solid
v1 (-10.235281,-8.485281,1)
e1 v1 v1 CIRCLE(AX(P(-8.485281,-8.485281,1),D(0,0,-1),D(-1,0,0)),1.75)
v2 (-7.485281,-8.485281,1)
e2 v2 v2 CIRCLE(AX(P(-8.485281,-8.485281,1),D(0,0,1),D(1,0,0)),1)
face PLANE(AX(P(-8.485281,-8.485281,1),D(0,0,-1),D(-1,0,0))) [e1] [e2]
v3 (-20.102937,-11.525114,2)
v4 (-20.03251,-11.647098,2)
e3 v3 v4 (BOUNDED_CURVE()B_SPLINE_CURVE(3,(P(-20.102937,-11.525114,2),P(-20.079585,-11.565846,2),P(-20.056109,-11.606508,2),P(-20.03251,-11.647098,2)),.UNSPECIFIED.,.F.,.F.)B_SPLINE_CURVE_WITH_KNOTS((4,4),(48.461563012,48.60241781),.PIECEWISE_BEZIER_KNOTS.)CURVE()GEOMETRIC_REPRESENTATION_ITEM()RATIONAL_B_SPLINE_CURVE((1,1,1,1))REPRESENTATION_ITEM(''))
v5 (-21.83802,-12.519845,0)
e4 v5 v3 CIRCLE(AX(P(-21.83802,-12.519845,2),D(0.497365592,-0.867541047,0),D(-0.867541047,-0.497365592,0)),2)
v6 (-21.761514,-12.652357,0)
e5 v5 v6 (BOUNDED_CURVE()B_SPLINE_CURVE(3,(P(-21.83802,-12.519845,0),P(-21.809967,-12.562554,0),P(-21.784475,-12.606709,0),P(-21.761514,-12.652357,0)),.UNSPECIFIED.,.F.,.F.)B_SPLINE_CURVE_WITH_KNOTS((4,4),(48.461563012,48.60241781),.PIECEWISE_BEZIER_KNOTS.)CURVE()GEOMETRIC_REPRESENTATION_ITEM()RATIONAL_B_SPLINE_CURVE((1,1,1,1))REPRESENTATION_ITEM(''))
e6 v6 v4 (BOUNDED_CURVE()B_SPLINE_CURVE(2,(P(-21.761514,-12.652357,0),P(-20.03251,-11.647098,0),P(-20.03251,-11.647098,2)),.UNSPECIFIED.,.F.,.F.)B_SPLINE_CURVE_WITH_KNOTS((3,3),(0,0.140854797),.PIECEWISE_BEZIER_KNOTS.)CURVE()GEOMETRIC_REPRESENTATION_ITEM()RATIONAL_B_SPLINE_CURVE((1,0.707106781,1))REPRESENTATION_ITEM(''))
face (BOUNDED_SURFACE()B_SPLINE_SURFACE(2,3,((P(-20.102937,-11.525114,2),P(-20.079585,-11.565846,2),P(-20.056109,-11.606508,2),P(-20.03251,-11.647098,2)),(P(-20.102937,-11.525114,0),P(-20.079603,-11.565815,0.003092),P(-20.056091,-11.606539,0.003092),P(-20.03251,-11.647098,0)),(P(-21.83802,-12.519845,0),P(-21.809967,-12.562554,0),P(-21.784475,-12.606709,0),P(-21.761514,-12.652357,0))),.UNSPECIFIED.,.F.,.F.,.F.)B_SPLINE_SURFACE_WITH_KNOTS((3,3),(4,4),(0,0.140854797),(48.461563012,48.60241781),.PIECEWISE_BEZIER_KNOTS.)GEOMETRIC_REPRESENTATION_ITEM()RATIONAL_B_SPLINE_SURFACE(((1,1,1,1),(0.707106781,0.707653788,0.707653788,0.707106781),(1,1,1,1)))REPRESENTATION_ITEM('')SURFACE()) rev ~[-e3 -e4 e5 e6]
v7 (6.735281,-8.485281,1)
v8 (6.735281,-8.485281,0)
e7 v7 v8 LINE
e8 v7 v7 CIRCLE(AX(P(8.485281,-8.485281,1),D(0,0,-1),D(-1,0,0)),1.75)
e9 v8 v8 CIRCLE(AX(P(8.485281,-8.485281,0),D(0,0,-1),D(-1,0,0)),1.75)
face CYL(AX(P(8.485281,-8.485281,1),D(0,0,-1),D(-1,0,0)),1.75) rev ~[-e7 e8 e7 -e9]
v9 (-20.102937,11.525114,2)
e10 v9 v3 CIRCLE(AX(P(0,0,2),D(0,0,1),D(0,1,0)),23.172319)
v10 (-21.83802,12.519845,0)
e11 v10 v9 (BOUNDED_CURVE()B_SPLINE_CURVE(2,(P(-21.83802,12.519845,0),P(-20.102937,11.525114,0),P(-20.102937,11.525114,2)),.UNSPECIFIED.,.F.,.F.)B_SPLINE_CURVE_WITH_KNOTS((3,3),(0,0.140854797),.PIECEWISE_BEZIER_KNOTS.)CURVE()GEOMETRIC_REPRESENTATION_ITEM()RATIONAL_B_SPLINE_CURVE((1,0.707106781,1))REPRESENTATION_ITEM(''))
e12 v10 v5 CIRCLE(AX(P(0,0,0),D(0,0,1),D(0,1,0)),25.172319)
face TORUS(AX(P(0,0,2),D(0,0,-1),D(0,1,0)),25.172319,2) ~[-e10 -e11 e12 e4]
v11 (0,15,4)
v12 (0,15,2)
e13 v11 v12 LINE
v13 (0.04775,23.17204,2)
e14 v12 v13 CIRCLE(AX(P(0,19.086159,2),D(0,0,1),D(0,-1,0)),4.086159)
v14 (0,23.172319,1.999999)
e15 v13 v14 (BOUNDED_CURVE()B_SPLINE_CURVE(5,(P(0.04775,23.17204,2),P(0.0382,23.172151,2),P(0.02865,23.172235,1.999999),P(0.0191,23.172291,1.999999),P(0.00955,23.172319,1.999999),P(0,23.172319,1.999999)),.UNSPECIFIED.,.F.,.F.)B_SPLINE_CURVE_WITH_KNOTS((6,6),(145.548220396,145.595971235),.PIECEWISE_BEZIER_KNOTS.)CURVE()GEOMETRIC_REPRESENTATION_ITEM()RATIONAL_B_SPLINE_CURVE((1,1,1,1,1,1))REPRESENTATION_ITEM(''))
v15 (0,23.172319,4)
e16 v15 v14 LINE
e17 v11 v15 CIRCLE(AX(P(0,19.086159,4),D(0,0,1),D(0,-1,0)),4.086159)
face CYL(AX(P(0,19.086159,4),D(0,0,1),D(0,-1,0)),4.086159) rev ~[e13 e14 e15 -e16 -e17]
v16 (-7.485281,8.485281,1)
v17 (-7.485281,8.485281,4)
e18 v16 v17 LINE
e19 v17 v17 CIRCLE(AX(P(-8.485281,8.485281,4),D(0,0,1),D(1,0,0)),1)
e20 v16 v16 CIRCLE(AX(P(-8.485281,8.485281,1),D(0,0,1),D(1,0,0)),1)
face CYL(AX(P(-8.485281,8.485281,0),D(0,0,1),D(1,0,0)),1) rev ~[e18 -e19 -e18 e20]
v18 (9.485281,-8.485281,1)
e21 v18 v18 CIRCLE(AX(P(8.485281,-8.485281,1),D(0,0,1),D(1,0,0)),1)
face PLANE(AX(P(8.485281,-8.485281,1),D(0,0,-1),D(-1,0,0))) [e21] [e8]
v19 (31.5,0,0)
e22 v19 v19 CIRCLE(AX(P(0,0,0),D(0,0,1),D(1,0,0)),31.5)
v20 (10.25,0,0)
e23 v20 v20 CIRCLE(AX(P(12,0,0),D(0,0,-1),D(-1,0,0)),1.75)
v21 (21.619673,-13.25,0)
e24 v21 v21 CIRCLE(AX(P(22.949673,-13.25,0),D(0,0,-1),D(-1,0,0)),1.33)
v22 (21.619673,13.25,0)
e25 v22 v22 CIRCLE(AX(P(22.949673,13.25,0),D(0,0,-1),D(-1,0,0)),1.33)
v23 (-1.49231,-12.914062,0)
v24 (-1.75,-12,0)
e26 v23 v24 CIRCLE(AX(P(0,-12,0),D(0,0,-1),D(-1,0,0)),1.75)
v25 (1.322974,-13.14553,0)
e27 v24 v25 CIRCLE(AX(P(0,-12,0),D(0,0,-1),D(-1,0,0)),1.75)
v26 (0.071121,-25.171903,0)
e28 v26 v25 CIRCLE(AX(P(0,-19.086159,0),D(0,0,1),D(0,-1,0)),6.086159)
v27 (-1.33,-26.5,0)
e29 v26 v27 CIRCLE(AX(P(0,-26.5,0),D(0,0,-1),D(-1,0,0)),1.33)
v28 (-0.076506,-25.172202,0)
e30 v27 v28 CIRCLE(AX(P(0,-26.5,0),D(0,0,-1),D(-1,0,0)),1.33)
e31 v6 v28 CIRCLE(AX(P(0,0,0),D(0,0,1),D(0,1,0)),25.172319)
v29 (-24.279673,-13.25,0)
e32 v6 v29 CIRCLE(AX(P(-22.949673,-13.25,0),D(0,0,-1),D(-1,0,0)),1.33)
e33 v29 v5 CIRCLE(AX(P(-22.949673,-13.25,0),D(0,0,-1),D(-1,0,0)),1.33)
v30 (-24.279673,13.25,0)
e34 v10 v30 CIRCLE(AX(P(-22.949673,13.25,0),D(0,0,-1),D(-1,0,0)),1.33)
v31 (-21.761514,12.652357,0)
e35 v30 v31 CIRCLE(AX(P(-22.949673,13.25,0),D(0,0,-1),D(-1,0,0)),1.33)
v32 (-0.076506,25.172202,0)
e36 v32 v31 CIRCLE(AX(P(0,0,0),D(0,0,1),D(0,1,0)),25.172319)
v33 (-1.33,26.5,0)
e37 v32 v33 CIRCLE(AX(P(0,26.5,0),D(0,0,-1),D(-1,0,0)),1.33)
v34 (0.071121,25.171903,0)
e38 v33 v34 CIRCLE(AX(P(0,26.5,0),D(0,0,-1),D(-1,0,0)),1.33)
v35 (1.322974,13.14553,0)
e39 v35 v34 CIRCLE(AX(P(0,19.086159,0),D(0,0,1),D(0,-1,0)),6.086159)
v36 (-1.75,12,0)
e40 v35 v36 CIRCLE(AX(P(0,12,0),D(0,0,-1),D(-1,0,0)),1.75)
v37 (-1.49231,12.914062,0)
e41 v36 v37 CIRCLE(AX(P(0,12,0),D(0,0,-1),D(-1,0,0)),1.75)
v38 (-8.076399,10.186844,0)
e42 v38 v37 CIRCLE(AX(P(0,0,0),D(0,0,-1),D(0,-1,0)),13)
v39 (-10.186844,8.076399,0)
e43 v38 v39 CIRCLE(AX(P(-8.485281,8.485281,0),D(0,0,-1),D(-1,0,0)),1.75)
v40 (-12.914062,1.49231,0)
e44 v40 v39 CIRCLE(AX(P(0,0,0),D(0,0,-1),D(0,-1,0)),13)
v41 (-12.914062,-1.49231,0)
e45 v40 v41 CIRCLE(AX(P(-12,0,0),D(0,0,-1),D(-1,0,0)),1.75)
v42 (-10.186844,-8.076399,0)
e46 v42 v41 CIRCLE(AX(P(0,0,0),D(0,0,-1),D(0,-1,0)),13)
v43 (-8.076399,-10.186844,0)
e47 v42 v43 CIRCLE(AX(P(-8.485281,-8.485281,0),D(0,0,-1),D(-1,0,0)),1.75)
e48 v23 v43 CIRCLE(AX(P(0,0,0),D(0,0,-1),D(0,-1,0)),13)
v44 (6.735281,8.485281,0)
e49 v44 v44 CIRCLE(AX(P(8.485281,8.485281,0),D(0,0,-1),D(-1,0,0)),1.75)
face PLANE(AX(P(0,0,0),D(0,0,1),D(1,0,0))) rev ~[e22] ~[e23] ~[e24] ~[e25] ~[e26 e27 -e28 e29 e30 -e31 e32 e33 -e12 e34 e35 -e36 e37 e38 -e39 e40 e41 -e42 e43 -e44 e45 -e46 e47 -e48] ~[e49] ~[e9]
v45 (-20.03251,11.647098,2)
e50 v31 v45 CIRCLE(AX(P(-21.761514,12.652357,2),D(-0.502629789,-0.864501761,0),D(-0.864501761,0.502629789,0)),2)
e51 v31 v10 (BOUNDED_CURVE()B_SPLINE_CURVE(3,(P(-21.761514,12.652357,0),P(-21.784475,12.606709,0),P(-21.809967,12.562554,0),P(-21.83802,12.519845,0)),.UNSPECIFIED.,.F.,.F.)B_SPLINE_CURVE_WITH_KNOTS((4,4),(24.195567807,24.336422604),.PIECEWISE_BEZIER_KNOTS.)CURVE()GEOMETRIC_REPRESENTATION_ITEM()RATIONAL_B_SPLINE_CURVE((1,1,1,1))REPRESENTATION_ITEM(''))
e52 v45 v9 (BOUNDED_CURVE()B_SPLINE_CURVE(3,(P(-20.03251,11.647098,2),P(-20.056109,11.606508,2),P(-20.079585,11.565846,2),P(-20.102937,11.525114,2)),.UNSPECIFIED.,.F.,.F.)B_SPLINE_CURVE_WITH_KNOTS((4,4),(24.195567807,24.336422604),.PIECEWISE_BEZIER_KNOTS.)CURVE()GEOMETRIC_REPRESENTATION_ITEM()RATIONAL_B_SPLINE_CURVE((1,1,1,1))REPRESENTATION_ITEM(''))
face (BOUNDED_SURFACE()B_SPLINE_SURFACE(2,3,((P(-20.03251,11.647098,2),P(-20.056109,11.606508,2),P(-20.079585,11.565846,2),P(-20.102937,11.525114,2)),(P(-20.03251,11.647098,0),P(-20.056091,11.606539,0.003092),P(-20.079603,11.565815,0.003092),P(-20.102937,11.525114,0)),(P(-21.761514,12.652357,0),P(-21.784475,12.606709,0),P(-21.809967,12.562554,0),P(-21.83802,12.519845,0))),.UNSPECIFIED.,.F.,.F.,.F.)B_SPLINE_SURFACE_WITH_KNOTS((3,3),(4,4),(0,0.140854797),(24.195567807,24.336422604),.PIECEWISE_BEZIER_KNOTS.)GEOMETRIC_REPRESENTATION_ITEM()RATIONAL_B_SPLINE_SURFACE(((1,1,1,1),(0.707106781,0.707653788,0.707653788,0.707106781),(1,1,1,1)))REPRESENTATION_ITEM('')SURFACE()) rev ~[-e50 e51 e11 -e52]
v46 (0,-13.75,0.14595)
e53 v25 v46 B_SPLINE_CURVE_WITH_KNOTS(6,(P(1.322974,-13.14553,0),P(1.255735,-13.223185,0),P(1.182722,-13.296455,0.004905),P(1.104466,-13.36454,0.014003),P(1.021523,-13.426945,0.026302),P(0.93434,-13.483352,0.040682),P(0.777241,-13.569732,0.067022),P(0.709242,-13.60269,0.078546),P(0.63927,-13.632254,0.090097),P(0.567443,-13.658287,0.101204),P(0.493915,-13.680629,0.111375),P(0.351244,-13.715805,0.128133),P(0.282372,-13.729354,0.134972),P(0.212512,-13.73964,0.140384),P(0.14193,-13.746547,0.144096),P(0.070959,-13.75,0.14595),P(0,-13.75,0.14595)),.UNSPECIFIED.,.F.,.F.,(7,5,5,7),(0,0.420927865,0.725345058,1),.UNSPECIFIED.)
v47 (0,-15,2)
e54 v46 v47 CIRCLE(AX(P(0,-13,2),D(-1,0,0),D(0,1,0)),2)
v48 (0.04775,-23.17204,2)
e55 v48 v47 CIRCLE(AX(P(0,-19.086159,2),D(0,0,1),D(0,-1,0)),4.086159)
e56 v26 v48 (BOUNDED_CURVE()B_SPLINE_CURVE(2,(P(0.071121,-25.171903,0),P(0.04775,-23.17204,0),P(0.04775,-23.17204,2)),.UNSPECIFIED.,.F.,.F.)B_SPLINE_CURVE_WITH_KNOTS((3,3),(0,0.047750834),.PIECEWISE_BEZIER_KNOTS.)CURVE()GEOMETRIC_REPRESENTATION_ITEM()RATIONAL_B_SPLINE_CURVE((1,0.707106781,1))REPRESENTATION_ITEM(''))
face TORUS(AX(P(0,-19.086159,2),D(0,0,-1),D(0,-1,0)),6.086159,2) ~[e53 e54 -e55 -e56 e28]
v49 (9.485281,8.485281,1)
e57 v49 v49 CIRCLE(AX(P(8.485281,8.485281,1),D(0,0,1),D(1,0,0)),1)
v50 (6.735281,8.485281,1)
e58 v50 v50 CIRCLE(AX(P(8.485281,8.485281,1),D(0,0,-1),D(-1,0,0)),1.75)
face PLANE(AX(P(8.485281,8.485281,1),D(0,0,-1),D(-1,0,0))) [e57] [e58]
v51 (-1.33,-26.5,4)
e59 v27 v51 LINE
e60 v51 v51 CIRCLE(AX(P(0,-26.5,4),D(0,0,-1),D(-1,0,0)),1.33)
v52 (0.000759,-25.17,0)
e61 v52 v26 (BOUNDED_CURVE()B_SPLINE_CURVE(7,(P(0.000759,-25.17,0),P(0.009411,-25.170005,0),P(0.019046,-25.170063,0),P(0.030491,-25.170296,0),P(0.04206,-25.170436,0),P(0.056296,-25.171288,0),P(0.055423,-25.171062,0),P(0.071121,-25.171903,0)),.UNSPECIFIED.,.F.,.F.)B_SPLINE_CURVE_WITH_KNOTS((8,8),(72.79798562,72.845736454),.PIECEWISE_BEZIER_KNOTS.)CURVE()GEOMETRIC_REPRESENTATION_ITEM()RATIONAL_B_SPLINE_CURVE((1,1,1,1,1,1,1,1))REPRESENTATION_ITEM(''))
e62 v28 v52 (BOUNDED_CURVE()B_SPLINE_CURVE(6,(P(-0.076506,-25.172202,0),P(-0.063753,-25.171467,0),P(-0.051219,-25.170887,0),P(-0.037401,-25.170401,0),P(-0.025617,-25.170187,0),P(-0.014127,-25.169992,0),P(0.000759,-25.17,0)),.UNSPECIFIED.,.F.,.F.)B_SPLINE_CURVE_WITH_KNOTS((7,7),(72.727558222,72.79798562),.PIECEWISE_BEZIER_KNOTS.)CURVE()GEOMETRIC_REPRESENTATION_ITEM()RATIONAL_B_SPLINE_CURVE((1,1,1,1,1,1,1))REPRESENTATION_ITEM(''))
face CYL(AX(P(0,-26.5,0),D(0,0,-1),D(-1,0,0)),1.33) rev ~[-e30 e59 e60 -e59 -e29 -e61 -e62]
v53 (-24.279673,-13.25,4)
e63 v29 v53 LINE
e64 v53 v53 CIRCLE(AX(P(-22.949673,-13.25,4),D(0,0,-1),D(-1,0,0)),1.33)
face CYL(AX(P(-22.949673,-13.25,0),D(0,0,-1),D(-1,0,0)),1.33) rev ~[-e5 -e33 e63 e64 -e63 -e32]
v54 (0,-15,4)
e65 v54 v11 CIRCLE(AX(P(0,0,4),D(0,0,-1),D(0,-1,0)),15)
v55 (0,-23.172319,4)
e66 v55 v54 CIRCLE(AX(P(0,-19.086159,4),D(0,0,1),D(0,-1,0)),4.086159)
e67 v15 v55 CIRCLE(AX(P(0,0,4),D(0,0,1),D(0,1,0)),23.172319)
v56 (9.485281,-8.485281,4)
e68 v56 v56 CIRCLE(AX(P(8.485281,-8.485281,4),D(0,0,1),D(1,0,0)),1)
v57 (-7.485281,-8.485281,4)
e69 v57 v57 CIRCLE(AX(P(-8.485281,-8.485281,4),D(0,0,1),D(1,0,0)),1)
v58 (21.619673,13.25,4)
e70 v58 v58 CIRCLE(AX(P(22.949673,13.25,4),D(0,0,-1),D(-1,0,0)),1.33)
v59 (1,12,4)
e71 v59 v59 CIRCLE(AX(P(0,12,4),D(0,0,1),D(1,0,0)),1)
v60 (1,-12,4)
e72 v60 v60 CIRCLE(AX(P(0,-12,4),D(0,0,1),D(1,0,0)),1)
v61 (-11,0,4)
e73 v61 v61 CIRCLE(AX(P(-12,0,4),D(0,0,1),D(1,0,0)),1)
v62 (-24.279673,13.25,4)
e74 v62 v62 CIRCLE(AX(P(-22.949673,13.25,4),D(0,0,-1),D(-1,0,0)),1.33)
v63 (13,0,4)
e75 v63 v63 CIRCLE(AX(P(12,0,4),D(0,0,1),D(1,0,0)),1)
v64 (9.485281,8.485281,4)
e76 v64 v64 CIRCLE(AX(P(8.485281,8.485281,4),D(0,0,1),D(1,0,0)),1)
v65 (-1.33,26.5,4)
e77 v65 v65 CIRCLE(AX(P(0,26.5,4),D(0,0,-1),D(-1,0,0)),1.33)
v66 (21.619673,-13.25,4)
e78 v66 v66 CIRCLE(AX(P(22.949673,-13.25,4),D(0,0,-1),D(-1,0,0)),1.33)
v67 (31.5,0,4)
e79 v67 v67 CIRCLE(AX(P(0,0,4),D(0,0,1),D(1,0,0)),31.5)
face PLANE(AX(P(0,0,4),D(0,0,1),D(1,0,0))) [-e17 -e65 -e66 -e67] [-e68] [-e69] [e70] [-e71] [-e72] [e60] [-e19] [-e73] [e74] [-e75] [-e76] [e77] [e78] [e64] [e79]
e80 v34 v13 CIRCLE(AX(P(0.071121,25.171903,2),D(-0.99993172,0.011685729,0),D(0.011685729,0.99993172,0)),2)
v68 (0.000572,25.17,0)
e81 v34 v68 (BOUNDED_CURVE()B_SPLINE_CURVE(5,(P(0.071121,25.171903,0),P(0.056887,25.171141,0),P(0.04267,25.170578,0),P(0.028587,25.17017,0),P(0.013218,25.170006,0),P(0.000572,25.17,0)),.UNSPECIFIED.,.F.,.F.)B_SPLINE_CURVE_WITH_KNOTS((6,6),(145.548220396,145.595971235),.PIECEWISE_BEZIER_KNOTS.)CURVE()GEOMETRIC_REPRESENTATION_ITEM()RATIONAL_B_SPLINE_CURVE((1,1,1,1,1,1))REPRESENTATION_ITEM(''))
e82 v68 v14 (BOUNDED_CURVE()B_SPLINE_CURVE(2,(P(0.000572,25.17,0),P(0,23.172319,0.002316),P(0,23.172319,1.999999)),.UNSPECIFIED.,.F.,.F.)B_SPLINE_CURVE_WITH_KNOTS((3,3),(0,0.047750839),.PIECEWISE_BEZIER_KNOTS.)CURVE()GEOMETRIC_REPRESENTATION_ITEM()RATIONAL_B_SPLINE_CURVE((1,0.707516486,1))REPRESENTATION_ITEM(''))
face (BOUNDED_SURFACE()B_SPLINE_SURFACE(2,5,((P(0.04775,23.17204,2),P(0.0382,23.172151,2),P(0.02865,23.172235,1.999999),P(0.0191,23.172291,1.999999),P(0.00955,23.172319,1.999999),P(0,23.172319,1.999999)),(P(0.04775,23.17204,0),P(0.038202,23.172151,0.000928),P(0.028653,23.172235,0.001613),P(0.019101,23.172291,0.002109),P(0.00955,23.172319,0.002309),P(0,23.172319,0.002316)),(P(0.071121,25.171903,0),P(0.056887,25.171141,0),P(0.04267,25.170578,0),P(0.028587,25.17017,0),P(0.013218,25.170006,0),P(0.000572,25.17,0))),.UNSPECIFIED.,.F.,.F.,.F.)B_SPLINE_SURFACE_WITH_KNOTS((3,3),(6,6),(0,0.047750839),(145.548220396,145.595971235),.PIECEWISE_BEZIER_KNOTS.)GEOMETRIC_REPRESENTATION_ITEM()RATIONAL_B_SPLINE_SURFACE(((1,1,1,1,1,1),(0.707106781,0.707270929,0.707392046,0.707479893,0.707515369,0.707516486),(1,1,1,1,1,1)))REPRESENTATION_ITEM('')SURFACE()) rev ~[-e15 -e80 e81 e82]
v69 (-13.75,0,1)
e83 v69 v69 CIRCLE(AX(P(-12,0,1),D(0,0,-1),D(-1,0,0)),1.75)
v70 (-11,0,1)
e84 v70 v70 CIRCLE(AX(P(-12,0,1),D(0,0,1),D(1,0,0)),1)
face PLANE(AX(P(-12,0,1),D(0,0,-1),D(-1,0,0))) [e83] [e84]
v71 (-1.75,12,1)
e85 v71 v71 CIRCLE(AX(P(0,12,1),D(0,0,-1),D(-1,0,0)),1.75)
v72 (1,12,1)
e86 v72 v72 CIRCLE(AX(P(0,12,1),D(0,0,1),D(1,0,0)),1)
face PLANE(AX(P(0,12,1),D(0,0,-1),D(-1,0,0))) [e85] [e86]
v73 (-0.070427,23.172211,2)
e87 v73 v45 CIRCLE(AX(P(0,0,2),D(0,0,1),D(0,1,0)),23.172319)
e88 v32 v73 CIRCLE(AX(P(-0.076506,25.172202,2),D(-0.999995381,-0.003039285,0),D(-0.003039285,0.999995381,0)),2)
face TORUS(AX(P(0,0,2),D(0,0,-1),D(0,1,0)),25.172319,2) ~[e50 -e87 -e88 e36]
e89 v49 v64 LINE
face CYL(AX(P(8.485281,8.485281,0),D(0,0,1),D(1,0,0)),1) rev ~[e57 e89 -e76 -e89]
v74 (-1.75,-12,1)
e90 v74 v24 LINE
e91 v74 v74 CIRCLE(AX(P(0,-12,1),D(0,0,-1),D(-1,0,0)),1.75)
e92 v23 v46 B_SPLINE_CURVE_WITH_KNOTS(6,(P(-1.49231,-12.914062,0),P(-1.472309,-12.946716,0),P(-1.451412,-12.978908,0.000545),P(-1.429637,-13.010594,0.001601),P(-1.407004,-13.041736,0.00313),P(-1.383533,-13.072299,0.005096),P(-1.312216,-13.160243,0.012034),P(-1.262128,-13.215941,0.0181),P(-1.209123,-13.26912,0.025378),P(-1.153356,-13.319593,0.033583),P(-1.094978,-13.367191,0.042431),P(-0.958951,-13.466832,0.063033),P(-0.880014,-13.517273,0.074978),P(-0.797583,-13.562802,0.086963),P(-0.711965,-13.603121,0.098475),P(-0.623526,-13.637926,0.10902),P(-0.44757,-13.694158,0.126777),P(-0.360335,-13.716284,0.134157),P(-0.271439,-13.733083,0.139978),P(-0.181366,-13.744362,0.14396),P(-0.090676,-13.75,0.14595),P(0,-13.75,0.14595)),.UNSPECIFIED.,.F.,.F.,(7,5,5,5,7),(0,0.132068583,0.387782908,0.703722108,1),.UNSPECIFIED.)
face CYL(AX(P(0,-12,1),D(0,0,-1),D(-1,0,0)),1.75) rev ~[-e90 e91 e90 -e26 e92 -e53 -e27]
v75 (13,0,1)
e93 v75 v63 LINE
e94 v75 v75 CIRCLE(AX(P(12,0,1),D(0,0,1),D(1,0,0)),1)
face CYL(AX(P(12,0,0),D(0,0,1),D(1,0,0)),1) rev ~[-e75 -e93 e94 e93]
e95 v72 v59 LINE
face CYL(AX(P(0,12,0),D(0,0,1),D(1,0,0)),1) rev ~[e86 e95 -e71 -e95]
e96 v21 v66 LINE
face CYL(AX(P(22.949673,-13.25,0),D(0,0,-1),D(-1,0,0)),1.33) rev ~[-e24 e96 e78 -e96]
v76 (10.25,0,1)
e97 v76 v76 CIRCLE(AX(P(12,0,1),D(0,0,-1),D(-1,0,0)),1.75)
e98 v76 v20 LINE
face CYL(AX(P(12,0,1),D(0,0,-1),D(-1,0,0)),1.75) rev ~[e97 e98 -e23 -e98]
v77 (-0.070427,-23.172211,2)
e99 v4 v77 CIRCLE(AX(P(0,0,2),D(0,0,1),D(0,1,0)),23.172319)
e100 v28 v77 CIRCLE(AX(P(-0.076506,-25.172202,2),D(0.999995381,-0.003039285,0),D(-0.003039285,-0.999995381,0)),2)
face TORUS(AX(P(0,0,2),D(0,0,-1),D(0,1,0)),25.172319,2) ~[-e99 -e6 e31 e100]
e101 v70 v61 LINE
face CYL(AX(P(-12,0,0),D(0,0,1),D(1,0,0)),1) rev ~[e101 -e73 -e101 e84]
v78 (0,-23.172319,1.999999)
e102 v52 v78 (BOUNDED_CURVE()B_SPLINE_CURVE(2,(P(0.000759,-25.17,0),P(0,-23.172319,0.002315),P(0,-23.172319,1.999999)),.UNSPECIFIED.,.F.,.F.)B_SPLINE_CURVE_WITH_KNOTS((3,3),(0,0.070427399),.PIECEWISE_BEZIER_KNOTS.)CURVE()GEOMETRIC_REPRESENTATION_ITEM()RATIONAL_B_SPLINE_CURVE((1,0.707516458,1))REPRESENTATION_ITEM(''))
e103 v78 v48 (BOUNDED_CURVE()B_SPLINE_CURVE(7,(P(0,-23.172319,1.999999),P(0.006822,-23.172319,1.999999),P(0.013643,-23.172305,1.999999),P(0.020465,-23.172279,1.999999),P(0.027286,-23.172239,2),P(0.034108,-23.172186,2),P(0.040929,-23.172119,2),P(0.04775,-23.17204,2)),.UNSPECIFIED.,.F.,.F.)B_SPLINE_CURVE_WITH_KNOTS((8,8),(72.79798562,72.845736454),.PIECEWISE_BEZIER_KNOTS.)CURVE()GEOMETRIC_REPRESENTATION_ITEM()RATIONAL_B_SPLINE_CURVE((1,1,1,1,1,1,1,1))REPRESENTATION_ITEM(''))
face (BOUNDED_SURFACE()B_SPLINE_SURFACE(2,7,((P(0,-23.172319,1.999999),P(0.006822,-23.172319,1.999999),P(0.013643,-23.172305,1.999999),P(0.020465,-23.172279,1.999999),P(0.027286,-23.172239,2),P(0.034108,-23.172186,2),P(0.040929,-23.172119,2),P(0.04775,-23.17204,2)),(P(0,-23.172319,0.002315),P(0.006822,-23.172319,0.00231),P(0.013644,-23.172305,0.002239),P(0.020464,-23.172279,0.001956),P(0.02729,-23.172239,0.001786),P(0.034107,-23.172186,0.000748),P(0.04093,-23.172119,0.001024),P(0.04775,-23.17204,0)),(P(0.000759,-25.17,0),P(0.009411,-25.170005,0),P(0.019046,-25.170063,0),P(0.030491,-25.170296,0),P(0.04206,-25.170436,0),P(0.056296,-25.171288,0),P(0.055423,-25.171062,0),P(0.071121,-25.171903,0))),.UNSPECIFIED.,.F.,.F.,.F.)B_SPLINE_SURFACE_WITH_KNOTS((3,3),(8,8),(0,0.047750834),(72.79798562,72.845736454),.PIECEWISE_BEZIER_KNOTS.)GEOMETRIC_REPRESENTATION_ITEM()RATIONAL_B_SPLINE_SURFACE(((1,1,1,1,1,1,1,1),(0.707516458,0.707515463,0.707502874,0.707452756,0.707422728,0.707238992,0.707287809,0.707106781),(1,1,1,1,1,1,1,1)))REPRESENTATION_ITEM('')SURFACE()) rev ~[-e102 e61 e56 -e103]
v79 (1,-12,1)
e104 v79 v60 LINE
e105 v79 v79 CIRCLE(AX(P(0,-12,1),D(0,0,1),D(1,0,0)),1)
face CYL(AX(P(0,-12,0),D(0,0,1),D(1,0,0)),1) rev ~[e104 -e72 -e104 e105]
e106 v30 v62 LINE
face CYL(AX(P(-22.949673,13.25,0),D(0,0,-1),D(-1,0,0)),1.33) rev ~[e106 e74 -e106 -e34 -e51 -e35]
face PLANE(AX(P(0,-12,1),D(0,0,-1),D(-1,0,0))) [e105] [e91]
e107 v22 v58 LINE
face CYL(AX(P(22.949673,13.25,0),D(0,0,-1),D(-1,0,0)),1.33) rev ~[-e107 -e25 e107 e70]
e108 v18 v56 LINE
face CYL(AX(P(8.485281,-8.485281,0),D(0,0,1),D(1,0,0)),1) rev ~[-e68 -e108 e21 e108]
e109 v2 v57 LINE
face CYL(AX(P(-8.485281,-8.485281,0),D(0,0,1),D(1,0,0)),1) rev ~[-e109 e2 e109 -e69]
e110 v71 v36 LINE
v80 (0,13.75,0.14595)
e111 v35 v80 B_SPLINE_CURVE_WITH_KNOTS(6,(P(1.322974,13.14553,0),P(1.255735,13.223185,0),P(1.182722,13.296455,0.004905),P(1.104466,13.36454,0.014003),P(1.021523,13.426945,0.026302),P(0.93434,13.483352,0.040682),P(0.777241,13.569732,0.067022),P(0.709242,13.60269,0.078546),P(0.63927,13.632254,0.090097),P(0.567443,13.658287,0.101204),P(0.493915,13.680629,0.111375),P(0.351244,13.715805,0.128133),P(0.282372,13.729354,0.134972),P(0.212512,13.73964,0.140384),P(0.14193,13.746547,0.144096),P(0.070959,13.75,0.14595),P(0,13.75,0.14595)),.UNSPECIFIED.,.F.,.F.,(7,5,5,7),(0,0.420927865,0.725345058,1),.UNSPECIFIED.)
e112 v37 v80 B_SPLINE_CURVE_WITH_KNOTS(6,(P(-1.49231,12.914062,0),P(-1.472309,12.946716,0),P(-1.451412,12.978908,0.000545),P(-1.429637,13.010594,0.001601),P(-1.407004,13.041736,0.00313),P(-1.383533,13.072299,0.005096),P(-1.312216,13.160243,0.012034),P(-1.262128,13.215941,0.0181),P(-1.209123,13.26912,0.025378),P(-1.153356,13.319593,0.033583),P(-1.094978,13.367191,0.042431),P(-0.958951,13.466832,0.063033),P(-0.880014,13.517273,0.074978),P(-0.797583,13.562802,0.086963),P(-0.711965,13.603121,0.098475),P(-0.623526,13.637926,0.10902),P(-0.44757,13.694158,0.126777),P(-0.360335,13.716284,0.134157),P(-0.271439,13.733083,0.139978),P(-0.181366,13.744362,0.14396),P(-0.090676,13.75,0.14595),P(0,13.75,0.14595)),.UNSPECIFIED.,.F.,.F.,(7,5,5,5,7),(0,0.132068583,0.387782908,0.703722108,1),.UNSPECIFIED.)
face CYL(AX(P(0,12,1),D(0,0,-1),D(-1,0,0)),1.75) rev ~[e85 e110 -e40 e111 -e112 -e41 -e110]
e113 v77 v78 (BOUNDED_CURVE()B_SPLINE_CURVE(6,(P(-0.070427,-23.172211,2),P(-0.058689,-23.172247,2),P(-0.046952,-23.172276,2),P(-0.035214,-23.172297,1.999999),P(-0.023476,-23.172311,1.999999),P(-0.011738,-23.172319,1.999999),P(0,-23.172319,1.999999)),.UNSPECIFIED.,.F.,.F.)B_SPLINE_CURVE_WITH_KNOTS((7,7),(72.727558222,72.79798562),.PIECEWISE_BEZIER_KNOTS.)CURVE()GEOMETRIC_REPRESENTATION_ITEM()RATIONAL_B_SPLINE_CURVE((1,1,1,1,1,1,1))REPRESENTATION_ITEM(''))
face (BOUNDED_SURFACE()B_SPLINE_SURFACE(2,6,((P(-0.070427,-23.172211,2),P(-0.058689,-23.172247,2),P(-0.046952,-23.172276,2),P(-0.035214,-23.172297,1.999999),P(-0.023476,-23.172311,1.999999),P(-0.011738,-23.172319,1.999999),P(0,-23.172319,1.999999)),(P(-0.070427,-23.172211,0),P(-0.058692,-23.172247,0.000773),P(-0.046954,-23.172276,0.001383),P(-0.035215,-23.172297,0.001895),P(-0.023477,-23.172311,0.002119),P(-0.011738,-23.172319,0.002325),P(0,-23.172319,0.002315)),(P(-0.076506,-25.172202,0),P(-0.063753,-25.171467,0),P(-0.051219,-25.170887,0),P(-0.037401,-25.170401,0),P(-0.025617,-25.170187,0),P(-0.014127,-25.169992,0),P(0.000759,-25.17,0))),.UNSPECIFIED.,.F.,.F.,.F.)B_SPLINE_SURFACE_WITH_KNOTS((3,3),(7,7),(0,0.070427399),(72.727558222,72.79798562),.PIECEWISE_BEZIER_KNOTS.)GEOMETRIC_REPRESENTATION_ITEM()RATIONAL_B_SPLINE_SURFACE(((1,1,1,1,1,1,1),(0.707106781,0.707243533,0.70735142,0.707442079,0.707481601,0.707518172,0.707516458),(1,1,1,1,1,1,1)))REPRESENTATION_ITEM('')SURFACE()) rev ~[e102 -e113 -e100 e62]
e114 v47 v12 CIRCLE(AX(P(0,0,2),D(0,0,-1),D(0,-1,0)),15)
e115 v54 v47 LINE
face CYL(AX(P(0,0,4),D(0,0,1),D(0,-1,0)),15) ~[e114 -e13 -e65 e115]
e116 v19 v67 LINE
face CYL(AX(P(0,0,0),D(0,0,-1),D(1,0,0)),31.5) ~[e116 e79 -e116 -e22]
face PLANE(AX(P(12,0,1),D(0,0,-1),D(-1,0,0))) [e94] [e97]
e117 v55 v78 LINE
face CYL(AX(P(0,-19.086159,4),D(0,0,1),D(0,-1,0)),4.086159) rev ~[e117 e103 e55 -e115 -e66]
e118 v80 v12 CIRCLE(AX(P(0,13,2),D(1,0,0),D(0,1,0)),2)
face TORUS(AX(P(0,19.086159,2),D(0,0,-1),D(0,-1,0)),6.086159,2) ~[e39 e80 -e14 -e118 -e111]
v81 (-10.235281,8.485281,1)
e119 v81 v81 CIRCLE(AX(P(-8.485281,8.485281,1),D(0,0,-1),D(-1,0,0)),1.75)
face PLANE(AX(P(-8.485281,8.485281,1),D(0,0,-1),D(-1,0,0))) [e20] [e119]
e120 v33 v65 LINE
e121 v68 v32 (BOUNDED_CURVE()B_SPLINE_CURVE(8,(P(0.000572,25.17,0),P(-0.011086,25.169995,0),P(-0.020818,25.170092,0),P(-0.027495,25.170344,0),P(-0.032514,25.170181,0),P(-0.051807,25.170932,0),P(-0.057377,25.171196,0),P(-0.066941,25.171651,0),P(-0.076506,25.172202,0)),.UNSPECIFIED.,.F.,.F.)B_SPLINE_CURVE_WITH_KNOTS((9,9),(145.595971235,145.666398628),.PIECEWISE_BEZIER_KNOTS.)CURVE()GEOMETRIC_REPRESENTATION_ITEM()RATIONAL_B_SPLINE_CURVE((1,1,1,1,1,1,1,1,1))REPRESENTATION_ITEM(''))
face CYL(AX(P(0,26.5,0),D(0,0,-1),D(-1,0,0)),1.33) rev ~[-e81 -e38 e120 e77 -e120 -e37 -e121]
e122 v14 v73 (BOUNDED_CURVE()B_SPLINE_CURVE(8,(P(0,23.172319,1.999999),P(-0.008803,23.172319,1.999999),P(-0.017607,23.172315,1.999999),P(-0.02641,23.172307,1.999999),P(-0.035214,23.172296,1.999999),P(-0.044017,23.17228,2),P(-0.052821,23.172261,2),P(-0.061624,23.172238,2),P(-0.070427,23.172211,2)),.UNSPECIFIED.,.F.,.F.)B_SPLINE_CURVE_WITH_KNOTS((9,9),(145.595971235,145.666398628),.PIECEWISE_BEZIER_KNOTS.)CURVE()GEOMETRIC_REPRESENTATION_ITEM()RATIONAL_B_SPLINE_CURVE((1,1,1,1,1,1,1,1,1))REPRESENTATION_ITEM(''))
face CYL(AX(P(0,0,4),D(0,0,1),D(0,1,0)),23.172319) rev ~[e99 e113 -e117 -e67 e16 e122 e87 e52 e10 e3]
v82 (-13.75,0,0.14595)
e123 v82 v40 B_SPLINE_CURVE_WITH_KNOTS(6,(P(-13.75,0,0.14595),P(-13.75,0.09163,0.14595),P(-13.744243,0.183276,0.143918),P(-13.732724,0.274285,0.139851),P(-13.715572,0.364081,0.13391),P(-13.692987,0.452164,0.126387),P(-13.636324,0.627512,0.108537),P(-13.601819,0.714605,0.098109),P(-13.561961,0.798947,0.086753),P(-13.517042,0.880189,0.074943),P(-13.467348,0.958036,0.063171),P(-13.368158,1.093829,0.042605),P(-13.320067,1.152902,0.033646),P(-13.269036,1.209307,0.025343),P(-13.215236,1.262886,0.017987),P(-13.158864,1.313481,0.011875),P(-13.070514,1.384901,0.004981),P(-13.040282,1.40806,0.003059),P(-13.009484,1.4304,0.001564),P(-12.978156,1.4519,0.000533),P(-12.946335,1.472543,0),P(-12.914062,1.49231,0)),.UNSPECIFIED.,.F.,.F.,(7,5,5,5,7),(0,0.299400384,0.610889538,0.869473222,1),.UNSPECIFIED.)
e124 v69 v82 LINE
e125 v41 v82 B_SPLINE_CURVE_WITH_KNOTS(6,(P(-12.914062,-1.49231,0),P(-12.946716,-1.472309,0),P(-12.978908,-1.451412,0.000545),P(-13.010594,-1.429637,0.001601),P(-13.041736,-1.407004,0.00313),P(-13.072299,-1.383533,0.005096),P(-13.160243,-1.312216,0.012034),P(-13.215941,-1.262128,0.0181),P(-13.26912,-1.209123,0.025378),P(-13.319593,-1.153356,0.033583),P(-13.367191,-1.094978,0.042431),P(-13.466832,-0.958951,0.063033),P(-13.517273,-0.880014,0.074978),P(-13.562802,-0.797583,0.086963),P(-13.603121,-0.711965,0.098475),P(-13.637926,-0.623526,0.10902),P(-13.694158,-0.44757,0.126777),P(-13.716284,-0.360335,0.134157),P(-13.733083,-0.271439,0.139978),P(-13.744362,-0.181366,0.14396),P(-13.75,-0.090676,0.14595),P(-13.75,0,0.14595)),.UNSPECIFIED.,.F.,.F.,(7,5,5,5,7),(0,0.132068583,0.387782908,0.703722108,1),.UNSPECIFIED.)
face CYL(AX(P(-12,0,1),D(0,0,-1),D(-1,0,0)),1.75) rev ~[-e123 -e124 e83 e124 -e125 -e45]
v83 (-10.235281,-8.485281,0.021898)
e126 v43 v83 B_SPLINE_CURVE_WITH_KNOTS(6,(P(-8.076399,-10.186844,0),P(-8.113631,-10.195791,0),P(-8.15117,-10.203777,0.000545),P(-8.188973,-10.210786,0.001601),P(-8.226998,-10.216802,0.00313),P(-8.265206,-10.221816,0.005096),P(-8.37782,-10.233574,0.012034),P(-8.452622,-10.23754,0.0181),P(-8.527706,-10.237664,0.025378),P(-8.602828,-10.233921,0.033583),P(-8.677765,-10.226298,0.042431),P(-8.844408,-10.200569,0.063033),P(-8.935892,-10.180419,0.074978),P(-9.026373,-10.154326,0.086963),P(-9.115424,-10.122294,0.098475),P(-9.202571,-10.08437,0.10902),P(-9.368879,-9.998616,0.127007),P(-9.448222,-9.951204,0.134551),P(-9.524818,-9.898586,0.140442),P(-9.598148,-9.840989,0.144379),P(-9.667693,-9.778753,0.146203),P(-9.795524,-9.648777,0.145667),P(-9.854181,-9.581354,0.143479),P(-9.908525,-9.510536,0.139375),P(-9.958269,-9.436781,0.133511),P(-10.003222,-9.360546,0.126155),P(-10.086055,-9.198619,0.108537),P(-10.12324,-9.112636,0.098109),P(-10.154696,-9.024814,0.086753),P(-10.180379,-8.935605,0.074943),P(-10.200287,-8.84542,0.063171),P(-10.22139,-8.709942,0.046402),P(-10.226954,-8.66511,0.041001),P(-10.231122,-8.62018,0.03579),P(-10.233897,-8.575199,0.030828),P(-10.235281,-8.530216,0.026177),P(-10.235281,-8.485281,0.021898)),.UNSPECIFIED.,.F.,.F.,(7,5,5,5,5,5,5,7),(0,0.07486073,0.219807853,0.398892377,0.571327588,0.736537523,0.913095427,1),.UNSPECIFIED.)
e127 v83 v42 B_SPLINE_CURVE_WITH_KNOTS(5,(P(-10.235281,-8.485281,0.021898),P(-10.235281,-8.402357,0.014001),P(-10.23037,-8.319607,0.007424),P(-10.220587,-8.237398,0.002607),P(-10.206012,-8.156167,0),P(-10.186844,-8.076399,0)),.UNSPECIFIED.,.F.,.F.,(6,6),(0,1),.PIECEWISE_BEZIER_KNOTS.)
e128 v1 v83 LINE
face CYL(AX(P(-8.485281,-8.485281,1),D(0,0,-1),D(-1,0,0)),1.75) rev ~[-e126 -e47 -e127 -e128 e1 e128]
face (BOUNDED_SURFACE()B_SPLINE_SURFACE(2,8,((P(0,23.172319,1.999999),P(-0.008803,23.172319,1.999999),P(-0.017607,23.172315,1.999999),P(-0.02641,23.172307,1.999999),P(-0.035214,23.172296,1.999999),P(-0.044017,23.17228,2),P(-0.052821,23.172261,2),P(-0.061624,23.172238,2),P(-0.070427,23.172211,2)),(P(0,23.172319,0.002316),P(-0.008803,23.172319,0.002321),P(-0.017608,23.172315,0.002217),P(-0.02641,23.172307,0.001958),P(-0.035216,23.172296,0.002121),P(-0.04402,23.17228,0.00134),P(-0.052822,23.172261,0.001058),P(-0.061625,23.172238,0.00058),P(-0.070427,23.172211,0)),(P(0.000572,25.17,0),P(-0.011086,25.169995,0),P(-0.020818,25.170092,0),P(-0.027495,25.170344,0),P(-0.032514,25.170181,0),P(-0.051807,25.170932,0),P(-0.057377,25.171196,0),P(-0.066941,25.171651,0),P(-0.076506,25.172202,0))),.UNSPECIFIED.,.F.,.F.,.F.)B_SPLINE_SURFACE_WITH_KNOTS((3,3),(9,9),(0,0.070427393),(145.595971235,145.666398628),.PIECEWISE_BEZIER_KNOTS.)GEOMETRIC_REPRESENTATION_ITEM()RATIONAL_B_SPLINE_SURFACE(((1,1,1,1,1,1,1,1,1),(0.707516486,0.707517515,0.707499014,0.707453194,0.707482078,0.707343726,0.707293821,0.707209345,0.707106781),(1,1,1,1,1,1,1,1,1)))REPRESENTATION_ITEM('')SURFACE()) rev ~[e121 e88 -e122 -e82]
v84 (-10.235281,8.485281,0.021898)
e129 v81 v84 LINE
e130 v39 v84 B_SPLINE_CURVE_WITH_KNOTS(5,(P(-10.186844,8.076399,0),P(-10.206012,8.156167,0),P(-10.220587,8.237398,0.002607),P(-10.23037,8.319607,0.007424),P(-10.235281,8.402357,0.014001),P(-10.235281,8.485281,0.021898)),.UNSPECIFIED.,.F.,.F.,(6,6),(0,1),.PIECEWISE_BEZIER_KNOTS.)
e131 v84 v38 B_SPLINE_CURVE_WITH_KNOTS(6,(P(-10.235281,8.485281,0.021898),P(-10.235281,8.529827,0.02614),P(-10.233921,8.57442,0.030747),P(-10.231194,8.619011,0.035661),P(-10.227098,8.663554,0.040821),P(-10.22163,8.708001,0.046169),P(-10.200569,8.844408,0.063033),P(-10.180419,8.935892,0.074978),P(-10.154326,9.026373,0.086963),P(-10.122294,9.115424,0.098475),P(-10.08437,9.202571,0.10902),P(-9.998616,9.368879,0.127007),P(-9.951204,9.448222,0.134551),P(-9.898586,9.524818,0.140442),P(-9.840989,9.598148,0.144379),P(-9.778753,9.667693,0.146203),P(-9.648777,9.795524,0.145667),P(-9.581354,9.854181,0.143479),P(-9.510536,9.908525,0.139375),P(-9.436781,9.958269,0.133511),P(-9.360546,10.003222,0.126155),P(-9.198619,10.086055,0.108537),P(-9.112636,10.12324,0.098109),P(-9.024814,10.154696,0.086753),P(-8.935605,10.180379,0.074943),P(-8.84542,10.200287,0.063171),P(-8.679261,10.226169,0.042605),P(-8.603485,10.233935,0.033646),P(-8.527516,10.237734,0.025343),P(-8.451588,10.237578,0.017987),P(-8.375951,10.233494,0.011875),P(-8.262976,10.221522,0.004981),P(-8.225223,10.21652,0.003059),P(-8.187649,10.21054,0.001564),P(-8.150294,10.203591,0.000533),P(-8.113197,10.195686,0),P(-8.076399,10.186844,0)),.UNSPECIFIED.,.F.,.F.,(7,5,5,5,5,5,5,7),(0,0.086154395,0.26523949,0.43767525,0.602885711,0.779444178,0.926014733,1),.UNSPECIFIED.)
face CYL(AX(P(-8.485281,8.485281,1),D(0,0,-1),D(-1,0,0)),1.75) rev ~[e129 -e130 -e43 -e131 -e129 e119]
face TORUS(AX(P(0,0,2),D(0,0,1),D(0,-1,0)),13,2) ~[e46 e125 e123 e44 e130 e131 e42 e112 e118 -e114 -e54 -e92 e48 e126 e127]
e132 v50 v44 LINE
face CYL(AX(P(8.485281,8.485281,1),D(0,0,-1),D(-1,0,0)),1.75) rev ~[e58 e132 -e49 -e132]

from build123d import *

# Parameters (mm, degrees)
SKETCH1_R                               = 31.5
ELBOW_PLATE_DEPTH                       = 4
SKETCH3_R                               = 1.33
SCREW_HOLES_DEPTH                       = 45.726949371
CABLE_SLOT_DEPTH                        = 4
FILLET1_R                               = 2
CBORE_FOR_M6_HEX_HEAD_BOLT1_D           = 2
CBORE_FOR_M6_HEX_HEAD_BOLT1_CBORE_D     = 3.5
CBORE_FOR_M6_HEX_HEAD_BOLT1_CBORE_DEPTH = 1


with BuildPart() as part:
    # Sketch1 → Elbow Plate (new body)
    with BuildSketch(Plane.XY):
        Circle(SKETCH1_R)
    extrude(amount=ELBOW_PLATE_DEPTH)

    # Sketch3 → Screw Holes (cut, through all)
    with BuildSketch(Plane(origin=(0, 0, 0), x_dir=(-1, 0, 0), z_dir=(0, 0, -1))):
        with Locations((22.9496732, 13.25)):
            Circle(SKETCH3_R)
        with Locations((0, 26.5)):
            Circle(SKETCH3_R)
        with Locations((22.9496732, -13.25)):
            Circle(SKETCH3_R)
        with Locations((0, -26.5)):
            Circle(SKETCH3_R)
        with Locations((-22.9496732, -13.25)):
            Circle(SKETCH3_R)
        with Locations((-22.9496732, 13.25)):
            Circle(SKETCH3_R)
    extrude(amount=-SCREW_HOLES_DEPTH, mode=Mode.SUBTRACT)

    # Sketch4 → Cable Slot (cut)
    with BuildSketch(Plane.XY.offset(4)):
        with BuildLine():
            ThreePointArc((0, -23.172318516), (4.086159258, -19.086159258), (0, -15))
            ThreePointArc((0, -15), (-15, 0), (0, 15))
            ThreePointArc((0, 15), (4.086159258, 19.086159258), (0, 23.172318516))
            ThreePointArc((0, 23.172318516), (-23.172318516, 0), (0, -23.172318516))
        make_face()
    extrude(amount=-CABLE_SLOT_DEPTH, mode=Mode.SUBTRACT)

    # Fillet1
    fillet1_edges = [part.edges().sort_by_distance(p)[0] for p in [
        (-23.172318516, 0, 0),
        (4.086159258, 19.086159258, 0),
        (-15, 0, 0),
        (4.086159258, -19.086159258, 0),
    ]]
    fillet(fillet1_edges, radius=FILLET1_R)

    # CBORE for M6 Hex Head Bolt1 (through all)
    with Locations(Plane(origin=(12, 0, 0), x_dir=(-1, 0, 0), z_dir=(0, 0, -1))):
        with Locations((0, 0), (3.514718626, 8.485281374), (12, 12), (20.485281374, 8.485281374), (24, 0), (20.485281374, -8.485281374), (12, -12), (3.514718626, -8.485281374)):
            CounterBoreHole(CBORE_FOR_M6_HEX_HEAD_BOLT1_D / 2, CBORE_FOR_M6_HEX_HEAD_BOLT1_CBORE_D / 2, CBORE_FOR_M6_HEX_HEAD_BOLT1_CBORE_DEPTH)


solid = part.part
